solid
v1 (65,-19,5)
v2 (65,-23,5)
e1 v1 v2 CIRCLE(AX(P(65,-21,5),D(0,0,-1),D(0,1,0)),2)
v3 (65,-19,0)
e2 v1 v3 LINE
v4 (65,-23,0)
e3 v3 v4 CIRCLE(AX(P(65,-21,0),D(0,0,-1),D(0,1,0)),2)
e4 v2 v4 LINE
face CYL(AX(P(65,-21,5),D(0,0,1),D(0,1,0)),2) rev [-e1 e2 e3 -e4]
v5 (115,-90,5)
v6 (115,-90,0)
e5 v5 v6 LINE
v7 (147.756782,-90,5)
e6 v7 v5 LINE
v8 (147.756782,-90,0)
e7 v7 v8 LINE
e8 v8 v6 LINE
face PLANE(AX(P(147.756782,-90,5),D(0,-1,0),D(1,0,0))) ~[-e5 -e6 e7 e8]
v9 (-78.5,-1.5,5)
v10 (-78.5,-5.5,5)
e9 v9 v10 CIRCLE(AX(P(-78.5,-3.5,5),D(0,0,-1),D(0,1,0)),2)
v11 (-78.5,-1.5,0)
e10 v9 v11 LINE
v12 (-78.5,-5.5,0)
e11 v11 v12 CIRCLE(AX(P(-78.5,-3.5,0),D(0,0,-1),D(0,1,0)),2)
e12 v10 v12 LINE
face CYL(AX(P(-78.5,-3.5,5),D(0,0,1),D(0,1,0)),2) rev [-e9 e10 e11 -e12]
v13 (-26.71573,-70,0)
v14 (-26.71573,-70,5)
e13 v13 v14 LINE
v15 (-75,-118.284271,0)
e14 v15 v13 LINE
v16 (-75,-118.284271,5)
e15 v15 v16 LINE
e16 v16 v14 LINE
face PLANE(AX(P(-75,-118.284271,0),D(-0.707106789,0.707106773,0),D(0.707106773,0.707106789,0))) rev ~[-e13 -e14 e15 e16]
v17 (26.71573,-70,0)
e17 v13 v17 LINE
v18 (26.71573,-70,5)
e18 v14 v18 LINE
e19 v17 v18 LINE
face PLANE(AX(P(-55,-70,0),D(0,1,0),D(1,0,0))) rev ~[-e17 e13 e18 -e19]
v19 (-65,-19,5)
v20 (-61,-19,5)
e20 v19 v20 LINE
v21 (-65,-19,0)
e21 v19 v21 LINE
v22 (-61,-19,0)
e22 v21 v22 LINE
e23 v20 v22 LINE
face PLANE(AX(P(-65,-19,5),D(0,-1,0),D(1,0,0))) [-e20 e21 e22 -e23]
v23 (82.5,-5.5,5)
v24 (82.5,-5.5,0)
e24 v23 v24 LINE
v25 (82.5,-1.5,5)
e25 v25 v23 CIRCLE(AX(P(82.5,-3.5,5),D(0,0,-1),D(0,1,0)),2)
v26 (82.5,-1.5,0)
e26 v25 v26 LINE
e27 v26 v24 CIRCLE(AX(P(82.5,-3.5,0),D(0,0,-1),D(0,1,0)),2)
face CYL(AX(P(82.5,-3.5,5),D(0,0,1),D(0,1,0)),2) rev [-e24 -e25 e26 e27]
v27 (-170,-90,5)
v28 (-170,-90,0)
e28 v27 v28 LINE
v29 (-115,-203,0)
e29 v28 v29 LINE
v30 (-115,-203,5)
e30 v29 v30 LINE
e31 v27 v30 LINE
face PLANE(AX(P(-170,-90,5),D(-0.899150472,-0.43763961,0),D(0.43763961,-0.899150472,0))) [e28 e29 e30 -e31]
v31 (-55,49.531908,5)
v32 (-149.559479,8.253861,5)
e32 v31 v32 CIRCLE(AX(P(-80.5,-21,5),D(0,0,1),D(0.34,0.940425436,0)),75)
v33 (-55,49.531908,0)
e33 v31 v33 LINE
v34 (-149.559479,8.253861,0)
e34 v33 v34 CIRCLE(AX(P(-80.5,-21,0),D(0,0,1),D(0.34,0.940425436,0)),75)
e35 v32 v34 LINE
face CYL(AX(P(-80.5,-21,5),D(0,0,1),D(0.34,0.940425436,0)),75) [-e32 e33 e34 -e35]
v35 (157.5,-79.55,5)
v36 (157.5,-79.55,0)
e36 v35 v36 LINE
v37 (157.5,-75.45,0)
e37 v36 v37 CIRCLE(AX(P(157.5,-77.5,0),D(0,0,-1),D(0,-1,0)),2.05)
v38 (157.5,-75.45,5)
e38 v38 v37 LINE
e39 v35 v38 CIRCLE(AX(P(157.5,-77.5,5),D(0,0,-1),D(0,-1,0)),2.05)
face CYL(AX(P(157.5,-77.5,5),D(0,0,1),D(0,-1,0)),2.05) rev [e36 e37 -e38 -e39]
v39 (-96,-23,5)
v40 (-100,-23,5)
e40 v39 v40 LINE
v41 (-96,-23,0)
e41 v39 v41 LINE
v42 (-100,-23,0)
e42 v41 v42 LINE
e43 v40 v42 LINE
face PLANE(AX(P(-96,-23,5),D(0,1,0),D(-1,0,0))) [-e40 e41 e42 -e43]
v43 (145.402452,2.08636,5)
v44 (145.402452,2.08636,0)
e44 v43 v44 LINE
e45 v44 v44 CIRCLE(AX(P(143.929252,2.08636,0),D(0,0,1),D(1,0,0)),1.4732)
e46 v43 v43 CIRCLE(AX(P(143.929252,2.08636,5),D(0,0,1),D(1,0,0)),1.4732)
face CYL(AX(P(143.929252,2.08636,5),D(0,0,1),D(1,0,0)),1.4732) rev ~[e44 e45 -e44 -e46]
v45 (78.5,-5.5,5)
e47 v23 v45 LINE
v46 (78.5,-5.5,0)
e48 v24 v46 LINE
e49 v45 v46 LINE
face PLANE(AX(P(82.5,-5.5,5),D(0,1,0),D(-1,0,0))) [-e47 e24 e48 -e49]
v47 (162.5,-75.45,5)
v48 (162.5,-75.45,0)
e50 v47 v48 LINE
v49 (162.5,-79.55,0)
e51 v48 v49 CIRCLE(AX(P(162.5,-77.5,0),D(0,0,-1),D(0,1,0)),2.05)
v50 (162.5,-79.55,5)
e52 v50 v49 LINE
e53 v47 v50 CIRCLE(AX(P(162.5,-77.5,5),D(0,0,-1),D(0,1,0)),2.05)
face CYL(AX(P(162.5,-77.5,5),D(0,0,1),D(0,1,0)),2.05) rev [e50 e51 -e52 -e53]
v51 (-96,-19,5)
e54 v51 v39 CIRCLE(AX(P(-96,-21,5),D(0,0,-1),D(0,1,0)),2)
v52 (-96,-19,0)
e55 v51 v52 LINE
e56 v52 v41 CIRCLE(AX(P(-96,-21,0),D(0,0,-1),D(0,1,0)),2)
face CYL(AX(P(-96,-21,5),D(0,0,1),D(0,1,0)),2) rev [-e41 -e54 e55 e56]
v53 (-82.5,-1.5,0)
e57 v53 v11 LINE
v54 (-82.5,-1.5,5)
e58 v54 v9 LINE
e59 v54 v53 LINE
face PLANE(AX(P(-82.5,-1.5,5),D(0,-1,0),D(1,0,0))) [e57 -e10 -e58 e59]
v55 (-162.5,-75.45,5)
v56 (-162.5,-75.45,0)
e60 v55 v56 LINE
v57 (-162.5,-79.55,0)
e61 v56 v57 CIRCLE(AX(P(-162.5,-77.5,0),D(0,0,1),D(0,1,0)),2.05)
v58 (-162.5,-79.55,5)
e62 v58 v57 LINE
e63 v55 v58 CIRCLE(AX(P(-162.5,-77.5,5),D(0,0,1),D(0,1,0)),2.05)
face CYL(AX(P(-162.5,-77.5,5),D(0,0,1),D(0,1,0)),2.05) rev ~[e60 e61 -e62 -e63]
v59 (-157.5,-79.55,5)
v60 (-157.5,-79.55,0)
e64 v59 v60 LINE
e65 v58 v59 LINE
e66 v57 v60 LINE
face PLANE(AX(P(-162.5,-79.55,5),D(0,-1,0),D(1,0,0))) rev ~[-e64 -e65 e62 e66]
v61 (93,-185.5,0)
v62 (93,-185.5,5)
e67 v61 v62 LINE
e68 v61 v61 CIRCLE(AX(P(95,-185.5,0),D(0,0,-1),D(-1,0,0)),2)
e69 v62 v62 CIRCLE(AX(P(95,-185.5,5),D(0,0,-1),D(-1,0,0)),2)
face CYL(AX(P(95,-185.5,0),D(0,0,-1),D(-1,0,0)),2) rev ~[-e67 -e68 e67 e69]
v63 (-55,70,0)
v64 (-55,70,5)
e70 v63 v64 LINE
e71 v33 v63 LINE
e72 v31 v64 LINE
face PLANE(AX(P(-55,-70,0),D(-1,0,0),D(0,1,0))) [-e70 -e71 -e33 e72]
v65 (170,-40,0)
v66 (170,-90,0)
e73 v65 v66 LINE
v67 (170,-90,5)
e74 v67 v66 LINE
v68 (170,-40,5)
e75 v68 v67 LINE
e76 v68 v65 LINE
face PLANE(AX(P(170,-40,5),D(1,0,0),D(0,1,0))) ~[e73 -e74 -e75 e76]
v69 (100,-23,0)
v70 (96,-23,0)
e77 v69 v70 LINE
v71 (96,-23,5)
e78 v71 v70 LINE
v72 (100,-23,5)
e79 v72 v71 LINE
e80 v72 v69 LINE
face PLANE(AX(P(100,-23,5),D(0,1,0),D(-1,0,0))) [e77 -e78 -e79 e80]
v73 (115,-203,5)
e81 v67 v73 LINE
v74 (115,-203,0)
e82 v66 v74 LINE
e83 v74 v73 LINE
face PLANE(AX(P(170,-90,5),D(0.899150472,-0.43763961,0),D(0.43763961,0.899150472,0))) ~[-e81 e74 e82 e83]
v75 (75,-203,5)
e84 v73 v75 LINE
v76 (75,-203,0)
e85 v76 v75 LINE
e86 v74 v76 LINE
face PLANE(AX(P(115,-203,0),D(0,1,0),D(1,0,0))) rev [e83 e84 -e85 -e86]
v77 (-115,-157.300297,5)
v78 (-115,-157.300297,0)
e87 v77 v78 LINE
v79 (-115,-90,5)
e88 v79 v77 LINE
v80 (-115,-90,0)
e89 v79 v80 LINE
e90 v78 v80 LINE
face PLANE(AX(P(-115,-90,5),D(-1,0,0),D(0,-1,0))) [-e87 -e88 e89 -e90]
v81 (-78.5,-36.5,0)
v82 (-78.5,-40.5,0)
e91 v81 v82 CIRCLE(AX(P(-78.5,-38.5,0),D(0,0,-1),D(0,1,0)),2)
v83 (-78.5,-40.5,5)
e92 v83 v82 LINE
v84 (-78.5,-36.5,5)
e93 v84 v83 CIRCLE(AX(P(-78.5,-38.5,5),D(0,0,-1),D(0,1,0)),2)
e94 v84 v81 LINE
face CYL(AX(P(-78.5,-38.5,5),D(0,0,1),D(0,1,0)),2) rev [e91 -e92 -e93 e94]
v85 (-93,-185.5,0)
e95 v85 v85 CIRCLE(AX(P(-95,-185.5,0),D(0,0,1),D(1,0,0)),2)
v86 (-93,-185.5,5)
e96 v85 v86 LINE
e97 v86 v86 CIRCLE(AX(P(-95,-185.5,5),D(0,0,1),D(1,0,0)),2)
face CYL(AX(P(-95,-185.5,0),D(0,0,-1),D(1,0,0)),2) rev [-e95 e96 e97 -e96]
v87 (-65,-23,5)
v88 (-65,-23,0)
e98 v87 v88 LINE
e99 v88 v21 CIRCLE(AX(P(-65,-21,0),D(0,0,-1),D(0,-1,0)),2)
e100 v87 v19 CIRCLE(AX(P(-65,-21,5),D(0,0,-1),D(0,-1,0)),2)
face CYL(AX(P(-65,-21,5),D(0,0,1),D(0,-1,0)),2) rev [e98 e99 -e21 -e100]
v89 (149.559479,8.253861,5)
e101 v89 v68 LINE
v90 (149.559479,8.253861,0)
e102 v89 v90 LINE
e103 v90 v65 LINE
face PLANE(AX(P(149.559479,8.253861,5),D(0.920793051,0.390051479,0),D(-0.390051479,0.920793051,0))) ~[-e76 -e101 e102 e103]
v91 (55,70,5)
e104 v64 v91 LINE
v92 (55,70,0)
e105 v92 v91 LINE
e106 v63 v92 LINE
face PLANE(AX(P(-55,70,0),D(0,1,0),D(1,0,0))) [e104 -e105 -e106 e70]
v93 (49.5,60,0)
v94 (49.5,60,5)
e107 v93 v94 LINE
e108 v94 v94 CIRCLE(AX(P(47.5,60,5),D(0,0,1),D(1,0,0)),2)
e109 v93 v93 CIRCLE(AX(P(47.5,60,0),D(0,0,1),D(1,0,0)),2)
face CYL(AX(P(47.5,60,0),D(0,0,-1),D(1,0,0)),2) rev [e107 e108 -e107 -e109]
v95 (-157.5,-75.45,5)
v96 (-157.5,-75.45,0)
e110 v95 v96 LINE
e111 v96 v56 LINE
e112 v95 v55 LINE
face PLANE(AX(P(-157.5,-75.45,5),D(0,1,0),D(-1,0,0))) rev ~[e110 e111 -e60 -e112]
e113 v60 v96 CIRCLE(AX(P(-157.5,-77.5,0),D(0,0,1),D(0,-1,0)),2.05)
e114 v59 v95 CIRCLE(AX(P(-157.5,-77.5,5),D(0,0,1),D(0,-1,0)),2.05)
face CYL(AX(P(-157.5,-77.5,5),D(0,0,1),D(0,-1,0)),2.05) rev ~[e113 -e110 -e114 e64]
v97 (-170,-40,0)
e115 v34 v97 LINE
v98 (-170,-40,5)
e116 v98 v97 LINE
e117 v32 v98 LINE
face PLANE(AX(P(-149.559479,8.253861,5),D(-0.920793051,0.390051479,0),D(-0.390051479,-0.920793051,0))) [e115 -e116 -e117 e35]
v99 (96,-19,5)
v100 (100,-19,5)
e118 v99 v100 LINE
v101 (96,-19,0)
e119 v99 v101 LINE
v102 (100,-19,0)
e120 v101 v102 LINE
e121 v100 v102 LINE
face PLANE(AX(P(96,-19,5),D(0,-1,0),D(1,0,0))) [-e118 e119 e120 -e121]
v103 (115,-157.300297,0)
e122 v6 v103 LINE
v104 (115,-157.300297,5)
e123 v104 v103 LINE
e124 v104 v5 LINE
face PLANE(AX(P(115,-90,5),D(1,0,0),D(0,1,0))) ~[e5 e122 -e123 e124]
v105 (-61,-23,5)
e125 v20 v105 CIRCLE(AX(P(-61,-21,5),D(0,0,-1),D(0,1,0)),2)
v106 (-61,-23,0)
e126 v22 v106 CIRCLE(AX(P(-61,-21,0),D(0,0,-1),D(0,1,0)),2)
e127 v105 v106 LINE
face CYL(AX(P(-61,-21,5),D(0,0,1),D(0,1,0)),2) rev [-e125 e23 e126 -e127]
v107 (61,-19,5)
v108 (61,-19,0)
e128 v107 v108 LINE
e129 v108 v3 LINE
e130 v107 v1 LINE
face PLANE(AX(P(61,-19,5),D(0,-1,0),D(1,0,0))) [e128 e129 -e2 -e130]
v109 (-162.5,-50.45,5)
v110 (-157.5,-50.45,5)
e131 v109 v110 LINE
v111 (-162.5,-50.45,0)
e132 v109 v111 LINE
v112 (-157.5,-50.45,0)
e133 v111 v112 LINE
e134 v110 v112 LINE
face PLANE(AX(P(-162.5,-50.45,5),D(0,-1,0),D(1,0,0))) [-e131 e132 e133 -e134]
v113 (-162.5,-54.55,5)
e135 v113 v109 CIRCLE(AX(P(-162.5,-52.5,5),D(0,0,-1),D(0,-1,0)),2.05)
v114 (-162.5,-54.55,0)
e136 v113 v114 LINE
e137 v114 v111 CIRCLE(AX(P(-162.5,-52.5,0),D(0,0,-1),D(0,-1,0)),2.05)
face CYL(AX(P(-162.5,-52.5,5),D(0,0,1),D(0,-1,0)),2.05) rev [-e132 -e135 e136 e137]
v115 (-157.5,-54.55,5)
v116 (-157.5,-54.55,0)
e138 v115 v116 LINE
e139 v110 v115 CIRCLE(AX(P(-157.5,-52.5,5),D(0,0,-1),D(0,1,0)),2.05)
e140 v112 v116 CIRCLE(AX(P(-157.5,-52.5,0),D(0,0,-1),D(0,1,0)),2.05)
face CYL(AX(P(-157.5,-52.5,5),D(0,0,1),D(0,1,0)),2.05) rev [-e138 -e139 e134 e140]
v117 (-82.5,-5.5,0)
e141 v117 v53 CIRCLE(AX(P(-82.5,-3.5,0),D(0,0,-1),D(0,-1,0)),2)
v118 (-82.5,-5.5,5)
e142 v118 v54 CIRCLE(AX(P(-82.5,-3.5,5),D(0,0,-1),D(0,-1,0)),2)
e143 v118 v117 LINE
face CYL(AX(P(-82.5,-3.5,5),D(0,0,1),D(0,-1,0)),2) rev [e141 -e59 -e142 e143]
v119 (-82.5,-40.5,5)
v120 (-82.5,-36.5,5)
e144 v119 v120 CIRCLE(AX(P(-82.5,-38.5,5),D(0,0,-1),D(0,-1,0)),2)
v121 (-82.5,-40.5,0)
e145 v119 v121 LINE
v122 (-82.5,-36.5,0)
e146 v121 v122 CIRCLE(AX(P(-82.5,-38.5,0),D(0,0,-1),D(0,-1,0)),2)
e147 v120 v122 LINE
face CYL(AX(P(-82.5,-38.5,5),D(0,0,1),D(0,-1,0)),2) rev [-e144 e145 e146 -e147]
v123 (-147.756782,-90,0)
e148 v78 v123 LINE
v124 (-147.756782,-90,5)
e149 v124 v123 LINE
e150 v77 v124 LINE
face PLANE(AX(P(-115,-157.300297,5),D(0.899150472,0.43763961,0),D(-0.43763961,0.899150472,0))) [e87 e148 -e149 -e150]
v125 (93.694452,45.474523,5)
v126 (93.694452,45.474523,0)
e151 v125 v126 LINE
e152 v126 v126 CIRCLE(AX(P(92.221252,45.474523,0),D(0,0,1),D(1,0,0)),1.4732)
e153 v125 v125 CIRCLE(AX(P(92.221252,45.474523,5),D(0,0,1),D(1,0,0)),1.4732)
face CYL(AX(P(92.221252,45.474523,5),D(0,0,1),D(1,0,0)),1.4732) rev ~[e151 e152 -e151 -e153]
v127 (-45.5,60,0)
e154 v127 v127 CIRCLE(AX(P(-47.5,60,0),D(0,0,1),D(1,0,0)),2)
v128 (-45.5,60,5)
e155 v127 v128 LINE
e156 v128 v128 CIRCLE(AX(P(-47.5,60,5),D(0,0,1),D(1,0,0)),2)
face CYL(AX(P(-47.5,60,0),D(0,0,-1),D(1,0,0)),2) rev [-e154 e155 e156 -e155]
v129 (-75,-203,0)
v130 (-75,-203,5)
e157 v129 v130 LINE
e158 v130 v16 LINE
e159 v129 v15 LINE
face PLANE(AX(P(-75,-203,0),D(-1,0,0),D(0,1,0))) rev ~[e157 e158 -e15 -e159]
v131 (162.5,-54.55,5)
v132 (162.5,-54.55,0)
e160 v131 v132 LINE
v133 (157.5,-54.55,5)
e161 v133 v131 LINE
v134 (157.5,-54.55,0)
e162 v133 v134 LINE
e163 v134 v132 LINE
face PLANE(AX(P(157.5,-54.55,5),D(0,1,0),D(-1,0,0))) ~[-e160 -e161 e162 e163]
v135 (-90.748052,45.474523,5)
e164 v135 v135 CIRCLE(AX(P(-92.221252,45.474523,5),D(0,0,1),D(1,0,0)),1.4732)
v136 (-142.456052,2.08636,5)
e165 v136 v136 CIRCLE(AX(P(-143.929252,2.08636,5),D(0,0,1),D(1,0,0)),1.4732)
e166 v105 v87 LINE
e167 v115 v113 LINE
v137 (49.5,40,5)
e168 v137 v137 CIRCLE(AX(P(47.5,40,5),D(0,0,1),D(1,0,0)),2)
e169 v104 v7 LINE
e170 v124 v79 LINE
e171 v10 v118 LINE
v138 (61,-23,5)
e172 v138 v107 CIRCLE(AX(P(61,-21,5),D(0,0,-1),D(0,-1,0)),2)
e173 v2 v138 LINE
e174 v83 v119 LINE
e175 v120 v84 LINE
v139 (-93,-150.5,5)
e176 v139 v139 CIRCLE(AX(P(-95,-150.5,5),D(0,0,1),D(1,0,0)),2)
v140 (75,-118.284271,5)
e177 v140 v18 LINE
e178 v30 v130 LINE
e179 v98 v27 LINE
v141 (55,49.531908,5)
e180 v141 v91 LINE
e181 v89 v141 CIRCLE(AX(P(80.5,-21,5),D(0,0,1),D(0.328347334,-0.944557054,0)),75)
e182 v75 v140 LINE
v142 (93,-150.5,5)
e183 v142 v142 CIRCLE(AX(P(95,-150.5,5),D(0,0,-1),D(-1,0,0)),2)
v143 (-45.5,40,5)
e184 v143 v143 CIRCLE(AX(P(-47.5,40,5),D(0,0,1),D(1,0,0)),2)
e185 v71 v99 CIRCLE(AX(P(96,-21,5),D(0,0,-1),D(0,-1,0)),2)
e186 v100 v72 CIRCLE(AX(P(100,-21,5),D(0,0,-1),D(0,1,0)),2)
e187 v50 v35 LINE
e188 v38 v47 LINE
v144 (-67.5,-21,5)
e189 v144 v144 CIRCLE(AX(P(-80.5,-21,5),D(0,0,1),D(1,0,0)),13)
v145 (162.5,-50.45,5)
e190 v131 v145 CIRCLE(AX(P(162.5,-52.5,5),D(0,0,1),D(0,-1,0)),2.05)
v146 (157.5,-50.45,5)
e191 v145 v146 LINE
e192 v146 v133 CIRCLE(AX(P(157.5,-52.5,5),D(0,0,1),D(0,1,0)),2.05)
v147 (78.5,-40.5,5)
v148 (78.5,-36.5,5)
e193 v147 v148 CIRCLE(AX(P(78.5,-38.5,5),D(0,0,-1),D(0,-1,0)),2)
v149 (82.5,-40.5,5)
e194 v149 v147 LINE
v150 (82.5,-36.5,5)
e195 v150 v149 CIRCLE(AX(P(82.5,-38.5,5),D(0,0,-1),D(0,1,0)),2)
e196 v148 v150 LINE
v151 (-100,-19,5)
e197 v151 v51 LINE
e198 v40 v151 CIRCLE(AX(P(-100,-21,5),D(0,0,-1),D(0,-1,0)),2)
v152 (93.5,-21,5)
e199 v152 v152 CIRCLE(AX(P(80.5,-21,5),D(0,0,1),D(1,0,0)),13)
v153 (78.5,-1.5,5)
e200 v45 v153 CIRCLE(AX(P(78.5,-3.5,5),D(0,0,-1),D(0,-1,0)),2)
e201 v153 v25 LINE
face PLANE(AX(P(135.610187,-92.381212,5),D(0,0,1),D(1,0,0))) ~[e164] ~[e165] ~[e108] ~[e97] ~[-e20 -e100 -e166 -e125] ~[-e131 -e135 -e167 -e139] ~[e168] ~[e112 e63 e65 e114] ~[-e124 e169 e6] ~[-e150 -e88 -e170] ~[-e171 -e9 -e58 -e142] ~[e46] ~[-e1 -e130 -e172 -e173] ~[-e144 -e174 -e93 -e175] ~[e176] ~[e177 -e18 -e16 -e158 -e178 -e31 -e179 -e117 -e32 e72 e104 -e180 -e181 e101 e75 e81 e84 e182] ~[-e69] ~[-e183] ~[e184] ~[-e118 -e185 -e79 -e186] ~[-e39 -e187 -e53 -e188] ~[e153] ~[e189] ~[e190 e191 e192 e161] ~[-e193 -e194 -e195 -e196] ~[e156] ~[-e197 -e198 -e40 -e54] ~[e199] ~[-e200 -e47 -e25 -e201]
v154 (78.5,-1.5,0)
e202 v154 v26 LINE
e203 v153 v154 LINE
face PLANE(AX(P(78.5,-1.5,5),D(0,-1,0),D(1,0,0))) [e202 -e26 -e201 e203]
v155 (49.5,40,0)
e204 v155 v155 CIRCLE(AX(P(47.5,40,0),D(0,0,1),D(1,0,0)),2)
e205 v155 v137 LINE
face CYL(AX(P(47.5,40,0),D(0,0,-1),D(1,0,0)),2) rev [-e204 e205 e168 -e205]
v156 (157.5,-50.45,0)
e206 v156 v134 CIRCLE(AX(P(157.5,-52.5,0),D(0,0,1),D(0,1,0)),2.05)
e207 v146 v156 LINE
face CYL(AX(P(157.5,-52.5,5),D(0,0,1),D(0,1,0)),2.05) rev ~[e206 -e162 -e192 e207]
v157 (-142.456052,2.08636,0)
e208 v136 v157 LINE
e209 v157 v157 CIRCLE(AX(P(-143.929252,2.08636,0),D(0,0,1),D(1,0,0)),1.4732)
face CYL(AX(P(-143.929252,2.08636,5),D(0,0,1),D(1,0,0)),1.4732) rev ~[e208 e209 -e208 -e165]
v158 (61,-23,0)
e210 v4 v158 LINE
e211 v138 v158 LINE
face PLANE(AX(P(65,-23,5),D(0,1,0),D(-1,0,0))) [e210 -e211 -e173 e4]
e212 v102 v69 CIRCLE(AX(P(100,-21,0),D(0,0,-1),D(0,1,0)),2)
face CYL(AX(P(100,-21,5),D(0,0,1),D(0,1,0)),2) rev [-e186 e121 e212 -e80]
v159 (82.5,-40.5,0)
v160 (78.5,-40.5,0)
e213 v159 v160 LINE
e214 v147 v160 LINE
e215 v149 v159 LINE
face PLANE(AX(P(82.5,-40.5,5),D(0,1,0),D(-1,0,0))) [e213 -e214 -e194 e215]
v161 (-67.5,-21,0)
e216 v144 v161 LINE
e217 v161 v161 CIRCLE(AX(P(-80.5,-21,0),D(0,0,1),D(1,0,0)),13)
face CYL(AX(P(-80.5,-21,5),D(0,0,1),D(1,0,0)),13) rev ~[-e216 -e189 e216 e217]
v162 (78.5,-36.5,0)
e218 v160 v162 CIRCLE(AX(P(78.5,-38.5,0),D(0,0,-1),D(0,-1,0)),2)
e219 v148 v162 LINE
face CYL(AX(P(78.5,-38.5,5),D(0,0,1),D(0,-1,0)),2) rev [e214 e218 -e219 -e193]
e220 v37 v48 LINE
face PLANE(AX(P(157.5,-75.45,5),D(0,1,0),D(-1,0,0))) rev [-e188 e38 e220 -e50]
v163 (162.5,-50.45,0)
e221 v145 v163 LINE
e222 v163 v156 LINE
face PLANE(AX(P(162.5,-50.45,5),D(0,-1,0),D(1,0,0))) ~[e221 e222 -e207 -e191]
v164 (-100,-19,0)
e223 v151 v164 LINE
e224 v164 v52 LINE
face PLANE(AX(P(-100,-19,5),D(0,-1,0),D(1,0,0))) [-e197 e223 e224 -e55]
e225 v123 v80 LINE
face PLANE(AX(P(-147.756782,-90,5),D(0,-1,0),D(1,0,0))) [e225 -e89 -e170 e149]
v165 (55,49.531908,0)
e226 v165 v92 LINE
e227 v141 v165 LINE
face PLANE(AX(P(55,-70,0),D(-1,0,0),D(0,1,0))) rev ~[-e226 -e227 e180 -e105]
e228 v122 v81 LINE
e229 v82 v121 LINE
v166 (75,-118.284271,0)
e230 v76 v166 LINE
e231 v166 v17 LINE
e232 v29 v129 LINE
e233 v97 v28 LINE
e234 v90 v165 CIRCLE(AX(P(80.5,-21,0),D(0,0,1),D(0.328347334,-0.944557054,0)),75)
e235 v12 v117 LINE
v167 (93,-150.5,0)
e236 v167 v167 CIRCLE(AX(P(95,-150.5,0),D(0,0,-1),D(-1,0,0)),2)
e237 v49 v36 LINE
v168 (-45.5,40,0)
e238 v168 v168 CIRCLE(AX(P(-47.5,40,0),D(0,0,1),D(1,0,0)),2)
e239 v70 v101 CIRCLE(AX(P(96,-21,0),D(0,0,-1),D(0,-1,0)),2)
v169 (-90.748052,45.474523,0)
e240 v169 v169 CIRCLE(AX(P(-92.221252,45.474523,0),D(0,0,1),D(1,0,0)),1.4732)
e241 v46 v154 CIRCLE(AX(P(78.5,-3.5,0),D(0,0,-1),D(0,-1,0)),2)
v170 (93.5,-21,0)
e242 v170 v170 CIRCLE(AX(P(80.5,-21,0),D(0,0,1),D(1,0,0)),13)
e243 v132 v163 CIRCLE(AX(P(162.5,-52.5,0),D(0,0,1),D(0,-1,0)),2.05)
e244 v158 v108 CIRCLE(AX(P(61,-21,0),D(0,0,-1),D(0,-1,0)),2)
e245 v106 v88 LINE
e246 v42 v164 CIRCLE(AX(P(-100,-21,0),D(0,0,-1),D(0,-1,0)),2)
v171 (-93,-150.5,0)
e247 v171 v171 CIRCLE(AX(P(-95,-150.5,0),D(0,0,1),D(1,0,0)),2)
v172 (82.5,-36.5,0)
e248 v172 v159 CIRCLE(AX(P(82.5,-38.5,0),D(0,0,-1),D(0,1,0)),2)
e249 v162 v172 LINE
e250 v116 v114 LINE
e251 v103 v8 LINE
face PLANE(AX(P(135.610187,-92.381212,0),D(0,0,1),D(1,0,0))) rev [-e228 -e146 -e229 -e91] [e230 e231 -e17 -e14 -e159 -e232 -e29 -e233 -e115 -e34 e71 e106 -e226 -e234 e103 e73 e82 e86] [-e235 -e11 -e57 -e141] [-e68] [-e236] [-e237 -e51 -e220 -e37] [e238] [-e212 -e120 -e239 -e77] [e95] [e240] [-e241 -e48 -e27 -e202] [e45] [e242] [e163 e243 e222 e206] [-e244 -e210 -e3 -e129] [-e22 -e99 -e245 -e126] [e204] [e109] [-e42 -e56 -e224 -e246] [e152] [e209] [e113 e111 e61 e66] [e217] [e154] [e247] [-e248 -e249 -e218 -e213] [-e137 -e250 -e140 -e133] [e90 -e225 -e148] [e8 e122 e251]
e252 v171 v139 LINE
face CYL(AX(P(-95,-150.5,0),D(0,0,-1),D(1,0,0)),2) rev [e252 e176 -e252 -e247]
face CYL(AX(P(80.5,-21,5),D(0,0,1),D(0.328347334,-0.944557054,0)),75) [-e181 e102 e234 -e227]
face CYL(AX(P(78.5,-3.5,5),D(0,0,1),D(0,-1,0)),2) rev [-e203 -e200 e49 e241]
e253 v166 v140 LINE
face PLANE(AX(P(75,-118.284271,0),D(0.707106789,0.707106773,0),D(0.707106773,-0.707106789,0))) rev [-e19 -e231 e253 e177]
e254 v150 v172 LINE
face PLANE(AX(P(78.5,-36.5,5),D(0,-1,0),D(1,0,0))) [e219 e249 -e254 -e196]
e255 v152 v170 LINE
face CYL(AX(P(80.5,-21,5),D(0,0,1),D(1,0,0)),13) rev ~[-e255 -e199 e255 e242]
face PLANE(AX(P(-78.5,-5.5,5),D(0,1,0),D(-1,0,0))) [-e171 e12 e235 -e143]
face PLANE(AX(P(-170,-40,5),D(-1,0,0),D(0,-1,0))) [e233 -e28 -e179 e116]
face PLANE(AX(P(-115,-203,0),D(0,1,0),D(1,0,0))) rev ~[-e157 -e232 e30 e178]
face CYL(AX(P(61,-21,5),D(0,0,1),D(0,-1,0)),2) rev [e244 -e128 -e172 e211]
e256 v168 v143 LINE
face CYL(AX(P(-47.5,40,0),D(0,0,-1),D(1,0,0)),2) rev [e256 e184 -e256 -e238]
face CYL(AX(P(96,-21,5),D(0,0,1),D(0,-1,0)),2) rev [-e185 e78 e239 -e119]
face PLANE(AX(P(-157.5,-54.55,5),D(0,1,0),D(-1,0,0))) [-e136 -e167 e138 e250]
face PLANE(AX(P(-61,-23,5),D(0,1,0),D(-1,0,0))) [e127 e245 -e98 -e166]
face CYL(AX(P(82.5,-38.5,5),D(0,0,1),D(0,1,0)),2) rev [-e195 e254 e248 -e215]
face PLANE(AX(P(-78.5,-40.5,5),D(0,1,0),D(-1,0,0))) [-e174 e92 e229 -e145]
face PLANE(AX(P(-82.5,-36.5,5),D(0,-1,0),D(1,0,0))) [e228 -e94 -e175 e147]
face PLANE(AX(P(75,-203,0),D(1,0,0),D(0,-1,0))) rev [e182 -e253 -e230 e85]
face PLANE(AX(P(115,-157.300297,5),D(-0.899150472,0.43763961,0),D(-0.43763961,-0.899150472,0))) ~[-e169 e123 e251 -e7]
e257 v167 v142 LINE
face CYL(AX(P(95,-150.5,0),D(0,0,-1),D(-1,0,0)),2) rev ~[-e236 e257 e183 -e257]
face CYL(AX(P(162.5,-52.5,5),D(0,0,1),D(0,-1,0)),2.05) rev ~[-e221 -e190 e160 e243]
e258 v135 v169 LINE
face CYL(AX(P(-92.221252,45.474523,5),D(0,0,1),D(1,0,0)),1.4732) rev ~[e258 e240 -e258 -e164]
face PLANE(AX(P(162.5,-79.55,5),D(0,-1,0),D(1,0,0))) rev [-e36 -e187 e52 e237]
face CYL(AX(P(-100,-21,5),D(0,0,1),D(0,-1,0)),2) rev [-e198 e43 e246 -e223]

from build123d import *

# Parameters (mm, degrees)
SKETCH1_W           = 110
SKETCH1_H           = 140
SKETCH1_R           = 2
BOSS_EXTRUDE1_DEPTH = 5
SKETCH2_R           = 2
BOSS_EXTRUDE2_DEPTH = 5
SKETCH3_R           = 1.4732
SKETCH3_R_2         = 13
BOSS_EXTRUDE3_DEPTH = 5
BOSS_EXTRUDE4_DEPTH = 5


with BuildPart() as part:
    # Sketch1 → Boss-Extrude1 (new body)
    with BuildSketch(Plane.XY):
        Rectangle(SKETCH1_W, SKETCH1_H)
        with Locations((-47.5, 40)):
            Circle(SKETCH1_R, mode=Mode.SUBTRACT)
        with Locations((47.5, 40)):
            Circle(SKETCH1_R, mode=Mode.SUBTRACT)
        with Locations((-47.5, 60)):
            Circle(SKETCH1_R, mode=Mode.SUBTRACT)
        with Locations((47.5, 60)):
            Circle(SKETCH1_R, mode=Mode.SUBTRACT)
    extrude(amount=BOSS_EXTRUDE1_DEPTH)

    # Sketch2 → Boss-Extrude2 (add)
    with BuildSketch(Plane.XY):
        Polygon((-26.715730122, -70), (-55, -41.715730122), (-115, -101.715728753), (-115, -203), (-75, -203), (-75, -118.28427098), align=None)
        with Locations((-95, -185.5)):
            Circle(SKETCH2_R, mode=Mode.SUBTRACT)
        with Locations((-95, -150.5)):
            Circle(SKETCH2_R, mode=Mode.SUBTRACT)
    boss_extrude2 = extrude(amount=BOSS_EXTRUDE2_DEPTH)

    # Mirror1: Boss-Extrude2 across plane
    add(boss_extrude2.mirror(Plane(origin=(0, 0, 0), x_dir=(0, 0, 1), z_dir=(1, 0, 0))))

    # Sketch3 → Boss-Extrude3 (add)
    # profile 1 of 2: a face of its own
    with BuildSketch(Plane.XY.offset(5)):
        with BuildLine():
            ThreePointArc((-55, 49.531907673), (-151.188194001, 4.063503923), (-105.126050066, -91.841779044))
            Line((-105.126050066, -91.841779044), (-55, -41.715730122))
            Line((-55, -41.715730122), (-55, 49.531907673))
        make_face()
        with Locations((-143.929251903, 2.086359674)):
            Circle(SKETCH3_R, mode=Mode.SUBTRACT)
        with Locations((-92.221251993, 45.474523328)):
            Circle(SKETCH3_R, mode=Mode.SUBTRACT)
        with BuildLine():
            ThreePointArc((-65, -23), (-67, -21), (-65, -19))
            Line((-65, -19), (-61, -19))
            ThreePointArc((-61, -19), (-59, -21), (-61, -23))
            Line((-61, -23), (-65, -23))
        make_face(mode=Mode.SUBTRACT)
        with BuildLine():
            Line((-78.5, -40.5), (-82.5, -40.5))
            ThreePointArc((-82.5, -40.5), (-84.5, -38.5), (-82.5, -36.5))
            Line((-82.5, -36.5), (-78.5, -36.5))
            ThreePointArc((-78.5, -36.5), (-76.5, -38.5), (-78.5, -40.5))
        make_face(mode=Mode.SUBTRACT)
        with BuildLine():
            ThreePointArc((-96, -19), (-94, -21), (-96, -23))
            Line((-96, -23), (-100, -23))
            ThreePointArc((-100, -23), (-102, -21), (-100, -19))
            Line((-100, -19), (-96, -19))
        make_face(mode=Mode.SUBTRACT)
        with Locations((-80.5, -21)):
            Circle(SKETCH3_R_2, mode=Mode.SUBTRACT)
        with BuildLine():
            ThreePointArc((-82.5, -5.5), (-84.5, -3.5), (-82.5, -1.5))
            Line((-82.5, -1.5), (-78.5, -1.5))
            ThreePointArc((-78.5, -1.5), (-76.5, -3.5), (-78.5, -5.5))
            Line((-78.5, -5.5), (-82.5, -5.5))
        make_face(mode=Mode.SUBTRACT)
    # profile 2 of 2: a face of its own
    with BuildSketch(Plane.XY.offset(5)):
        with BuildLine():
            ThreePointArc((105.126050066, -91.841779044), (151.188194001, 4.063503923), (55, 49.531907673))
            Line((55, 49.531907673), (55, -41.715730122))
            Line((55, -41.715730122), (105.126050066, -91.841779044))
        make_face()
        with Locations((143.929251903, 2.086359674)):
            Circle(SKETCH3_R, mode=Mode.SUBTRACT)
        with Locations((92.221251993, 45.474523328)):
            Circle(SKETCH3_R, mode=Mode.SUBTRACT)
        with BuildLine():
            ThreePointArc((82.5, -1.5), (84.5, -3.5), (82.5, -5.5))
            Line((82.5, -5.5), (78.5, -5.5))
            ThreePointArc((78.5, -5.5), (76.5, -3.5), (78.5, -1.5))
            Line((78.5, -1.5), (82.5, -1.5))
        make_face(mode=Mode.SUBTRACT)
        with BuildLine():
            ThreePointArc((65, -19), (67, -21), (65, -23))
            Line((65, -23), (61, -23))
            ThreePointArc((61, -23), (59, -21), (61, -19))
            Line((61, -19), (65, -19))
        make_face(mode=Mode.SUBTRACT)
        with BuildLine():
            ThreePointArc((82.5, -36.5), (84.5, -38.5), (82.5, -40.5))
            Line((82.5, -40.5), (78.5, -40.5))
            ThreePointArc((78.5, -40.5), (76.5, -38.5), (78.5, -36.5))
            Line((78.5, -36.5), (82.5, -36.5))
        make_face(mode=Mode.SUBTRACT)
        with Locations((80.5, -21)):
            Circle(SKETCH3_R_2, mode=Mode.SUBTRACT)
        with BuildLine():
            Line((100, -23), (96, -23))
            ThreePointArc((96, -23), (94, -21), (96, -19))
            Line((96, -19), (100, -19))
            ThreePointArc((100, -19), (102, -21), (100, -23))
        make_face(mode=Mode.SUBTRACT)
    extrude(amount=-BOSS_EXTRUDE3_DEPTH)

    # Sketch4 → Boss-Extrude4 (add)
    with BuildSketch(Plane.XY.offset(5)):
        with BuildLine():
            Line((-170, -90), (-115, -203))
            Line((-115, -203), (-115, -157.300297485))
            Line((-115, -157.300297485), (-147.756781962, -90))
            Line((-147.756781962, -90), (-115, -90))
            Line((-115, -90), (-115, -101.715728753))
            Line((-115, -101.715728753), (-100, -101.715728753))
            Line((-100, -101.715728753), (-100, -90))
            Line((-100, -90), (-100, -40))
            Line((-100, -40), (-153.053428589, -40))
            ThreePointArc((-153.053428589, -40), (-155.304162069, -15.583604777), (-149.559478858, 8.253860938))
            Line((-149.559478858, 8.253860938), (-170, -40))
            Line((-170, -40), (-170, -90))
        make_face()
        with BuildLine():
            Line((-157.5, -54.55), (-162.5, -54.55))
            ThreePointArc((-162.5, -54.55), (-164.55, -52.5), (-162.5, -50.45))
            Line((-162.5, -50.45), (-157.5, -50.45))
            ThreePointArc((-157.5, -50.45), (-155.45, -52.5), (-157.5, -54.55))
        make_face(mode=Mode.SUBTRACT)
        with BuildLine():
            Line((-157.5, -75.45), (-162.5, -75.45))
            ThreePointArc((-162.5, -75.45), (-164.55, -77.5), (-162.5, -79.55))
            Line((-162.5, -79.55), (-157.5, -79.55))
            ThreePointArc((-157.5, -79.55), (-155.45, -77.5), (-157.5, -75.45))
        make_face(mode=Mode.SUBTRACT)
    boss_extrude4 = extrude(amount=-BOSS_EXTRUDE4_DEPTH)

    # Mirror2: Boss-Extrude4 across plane
    add(boss_extrude4.mirror(Plane(origin=(0, 0, 0), x_dir=(0, 0, 1), z_dir=(1, 0, 0))))


solid = part.part
